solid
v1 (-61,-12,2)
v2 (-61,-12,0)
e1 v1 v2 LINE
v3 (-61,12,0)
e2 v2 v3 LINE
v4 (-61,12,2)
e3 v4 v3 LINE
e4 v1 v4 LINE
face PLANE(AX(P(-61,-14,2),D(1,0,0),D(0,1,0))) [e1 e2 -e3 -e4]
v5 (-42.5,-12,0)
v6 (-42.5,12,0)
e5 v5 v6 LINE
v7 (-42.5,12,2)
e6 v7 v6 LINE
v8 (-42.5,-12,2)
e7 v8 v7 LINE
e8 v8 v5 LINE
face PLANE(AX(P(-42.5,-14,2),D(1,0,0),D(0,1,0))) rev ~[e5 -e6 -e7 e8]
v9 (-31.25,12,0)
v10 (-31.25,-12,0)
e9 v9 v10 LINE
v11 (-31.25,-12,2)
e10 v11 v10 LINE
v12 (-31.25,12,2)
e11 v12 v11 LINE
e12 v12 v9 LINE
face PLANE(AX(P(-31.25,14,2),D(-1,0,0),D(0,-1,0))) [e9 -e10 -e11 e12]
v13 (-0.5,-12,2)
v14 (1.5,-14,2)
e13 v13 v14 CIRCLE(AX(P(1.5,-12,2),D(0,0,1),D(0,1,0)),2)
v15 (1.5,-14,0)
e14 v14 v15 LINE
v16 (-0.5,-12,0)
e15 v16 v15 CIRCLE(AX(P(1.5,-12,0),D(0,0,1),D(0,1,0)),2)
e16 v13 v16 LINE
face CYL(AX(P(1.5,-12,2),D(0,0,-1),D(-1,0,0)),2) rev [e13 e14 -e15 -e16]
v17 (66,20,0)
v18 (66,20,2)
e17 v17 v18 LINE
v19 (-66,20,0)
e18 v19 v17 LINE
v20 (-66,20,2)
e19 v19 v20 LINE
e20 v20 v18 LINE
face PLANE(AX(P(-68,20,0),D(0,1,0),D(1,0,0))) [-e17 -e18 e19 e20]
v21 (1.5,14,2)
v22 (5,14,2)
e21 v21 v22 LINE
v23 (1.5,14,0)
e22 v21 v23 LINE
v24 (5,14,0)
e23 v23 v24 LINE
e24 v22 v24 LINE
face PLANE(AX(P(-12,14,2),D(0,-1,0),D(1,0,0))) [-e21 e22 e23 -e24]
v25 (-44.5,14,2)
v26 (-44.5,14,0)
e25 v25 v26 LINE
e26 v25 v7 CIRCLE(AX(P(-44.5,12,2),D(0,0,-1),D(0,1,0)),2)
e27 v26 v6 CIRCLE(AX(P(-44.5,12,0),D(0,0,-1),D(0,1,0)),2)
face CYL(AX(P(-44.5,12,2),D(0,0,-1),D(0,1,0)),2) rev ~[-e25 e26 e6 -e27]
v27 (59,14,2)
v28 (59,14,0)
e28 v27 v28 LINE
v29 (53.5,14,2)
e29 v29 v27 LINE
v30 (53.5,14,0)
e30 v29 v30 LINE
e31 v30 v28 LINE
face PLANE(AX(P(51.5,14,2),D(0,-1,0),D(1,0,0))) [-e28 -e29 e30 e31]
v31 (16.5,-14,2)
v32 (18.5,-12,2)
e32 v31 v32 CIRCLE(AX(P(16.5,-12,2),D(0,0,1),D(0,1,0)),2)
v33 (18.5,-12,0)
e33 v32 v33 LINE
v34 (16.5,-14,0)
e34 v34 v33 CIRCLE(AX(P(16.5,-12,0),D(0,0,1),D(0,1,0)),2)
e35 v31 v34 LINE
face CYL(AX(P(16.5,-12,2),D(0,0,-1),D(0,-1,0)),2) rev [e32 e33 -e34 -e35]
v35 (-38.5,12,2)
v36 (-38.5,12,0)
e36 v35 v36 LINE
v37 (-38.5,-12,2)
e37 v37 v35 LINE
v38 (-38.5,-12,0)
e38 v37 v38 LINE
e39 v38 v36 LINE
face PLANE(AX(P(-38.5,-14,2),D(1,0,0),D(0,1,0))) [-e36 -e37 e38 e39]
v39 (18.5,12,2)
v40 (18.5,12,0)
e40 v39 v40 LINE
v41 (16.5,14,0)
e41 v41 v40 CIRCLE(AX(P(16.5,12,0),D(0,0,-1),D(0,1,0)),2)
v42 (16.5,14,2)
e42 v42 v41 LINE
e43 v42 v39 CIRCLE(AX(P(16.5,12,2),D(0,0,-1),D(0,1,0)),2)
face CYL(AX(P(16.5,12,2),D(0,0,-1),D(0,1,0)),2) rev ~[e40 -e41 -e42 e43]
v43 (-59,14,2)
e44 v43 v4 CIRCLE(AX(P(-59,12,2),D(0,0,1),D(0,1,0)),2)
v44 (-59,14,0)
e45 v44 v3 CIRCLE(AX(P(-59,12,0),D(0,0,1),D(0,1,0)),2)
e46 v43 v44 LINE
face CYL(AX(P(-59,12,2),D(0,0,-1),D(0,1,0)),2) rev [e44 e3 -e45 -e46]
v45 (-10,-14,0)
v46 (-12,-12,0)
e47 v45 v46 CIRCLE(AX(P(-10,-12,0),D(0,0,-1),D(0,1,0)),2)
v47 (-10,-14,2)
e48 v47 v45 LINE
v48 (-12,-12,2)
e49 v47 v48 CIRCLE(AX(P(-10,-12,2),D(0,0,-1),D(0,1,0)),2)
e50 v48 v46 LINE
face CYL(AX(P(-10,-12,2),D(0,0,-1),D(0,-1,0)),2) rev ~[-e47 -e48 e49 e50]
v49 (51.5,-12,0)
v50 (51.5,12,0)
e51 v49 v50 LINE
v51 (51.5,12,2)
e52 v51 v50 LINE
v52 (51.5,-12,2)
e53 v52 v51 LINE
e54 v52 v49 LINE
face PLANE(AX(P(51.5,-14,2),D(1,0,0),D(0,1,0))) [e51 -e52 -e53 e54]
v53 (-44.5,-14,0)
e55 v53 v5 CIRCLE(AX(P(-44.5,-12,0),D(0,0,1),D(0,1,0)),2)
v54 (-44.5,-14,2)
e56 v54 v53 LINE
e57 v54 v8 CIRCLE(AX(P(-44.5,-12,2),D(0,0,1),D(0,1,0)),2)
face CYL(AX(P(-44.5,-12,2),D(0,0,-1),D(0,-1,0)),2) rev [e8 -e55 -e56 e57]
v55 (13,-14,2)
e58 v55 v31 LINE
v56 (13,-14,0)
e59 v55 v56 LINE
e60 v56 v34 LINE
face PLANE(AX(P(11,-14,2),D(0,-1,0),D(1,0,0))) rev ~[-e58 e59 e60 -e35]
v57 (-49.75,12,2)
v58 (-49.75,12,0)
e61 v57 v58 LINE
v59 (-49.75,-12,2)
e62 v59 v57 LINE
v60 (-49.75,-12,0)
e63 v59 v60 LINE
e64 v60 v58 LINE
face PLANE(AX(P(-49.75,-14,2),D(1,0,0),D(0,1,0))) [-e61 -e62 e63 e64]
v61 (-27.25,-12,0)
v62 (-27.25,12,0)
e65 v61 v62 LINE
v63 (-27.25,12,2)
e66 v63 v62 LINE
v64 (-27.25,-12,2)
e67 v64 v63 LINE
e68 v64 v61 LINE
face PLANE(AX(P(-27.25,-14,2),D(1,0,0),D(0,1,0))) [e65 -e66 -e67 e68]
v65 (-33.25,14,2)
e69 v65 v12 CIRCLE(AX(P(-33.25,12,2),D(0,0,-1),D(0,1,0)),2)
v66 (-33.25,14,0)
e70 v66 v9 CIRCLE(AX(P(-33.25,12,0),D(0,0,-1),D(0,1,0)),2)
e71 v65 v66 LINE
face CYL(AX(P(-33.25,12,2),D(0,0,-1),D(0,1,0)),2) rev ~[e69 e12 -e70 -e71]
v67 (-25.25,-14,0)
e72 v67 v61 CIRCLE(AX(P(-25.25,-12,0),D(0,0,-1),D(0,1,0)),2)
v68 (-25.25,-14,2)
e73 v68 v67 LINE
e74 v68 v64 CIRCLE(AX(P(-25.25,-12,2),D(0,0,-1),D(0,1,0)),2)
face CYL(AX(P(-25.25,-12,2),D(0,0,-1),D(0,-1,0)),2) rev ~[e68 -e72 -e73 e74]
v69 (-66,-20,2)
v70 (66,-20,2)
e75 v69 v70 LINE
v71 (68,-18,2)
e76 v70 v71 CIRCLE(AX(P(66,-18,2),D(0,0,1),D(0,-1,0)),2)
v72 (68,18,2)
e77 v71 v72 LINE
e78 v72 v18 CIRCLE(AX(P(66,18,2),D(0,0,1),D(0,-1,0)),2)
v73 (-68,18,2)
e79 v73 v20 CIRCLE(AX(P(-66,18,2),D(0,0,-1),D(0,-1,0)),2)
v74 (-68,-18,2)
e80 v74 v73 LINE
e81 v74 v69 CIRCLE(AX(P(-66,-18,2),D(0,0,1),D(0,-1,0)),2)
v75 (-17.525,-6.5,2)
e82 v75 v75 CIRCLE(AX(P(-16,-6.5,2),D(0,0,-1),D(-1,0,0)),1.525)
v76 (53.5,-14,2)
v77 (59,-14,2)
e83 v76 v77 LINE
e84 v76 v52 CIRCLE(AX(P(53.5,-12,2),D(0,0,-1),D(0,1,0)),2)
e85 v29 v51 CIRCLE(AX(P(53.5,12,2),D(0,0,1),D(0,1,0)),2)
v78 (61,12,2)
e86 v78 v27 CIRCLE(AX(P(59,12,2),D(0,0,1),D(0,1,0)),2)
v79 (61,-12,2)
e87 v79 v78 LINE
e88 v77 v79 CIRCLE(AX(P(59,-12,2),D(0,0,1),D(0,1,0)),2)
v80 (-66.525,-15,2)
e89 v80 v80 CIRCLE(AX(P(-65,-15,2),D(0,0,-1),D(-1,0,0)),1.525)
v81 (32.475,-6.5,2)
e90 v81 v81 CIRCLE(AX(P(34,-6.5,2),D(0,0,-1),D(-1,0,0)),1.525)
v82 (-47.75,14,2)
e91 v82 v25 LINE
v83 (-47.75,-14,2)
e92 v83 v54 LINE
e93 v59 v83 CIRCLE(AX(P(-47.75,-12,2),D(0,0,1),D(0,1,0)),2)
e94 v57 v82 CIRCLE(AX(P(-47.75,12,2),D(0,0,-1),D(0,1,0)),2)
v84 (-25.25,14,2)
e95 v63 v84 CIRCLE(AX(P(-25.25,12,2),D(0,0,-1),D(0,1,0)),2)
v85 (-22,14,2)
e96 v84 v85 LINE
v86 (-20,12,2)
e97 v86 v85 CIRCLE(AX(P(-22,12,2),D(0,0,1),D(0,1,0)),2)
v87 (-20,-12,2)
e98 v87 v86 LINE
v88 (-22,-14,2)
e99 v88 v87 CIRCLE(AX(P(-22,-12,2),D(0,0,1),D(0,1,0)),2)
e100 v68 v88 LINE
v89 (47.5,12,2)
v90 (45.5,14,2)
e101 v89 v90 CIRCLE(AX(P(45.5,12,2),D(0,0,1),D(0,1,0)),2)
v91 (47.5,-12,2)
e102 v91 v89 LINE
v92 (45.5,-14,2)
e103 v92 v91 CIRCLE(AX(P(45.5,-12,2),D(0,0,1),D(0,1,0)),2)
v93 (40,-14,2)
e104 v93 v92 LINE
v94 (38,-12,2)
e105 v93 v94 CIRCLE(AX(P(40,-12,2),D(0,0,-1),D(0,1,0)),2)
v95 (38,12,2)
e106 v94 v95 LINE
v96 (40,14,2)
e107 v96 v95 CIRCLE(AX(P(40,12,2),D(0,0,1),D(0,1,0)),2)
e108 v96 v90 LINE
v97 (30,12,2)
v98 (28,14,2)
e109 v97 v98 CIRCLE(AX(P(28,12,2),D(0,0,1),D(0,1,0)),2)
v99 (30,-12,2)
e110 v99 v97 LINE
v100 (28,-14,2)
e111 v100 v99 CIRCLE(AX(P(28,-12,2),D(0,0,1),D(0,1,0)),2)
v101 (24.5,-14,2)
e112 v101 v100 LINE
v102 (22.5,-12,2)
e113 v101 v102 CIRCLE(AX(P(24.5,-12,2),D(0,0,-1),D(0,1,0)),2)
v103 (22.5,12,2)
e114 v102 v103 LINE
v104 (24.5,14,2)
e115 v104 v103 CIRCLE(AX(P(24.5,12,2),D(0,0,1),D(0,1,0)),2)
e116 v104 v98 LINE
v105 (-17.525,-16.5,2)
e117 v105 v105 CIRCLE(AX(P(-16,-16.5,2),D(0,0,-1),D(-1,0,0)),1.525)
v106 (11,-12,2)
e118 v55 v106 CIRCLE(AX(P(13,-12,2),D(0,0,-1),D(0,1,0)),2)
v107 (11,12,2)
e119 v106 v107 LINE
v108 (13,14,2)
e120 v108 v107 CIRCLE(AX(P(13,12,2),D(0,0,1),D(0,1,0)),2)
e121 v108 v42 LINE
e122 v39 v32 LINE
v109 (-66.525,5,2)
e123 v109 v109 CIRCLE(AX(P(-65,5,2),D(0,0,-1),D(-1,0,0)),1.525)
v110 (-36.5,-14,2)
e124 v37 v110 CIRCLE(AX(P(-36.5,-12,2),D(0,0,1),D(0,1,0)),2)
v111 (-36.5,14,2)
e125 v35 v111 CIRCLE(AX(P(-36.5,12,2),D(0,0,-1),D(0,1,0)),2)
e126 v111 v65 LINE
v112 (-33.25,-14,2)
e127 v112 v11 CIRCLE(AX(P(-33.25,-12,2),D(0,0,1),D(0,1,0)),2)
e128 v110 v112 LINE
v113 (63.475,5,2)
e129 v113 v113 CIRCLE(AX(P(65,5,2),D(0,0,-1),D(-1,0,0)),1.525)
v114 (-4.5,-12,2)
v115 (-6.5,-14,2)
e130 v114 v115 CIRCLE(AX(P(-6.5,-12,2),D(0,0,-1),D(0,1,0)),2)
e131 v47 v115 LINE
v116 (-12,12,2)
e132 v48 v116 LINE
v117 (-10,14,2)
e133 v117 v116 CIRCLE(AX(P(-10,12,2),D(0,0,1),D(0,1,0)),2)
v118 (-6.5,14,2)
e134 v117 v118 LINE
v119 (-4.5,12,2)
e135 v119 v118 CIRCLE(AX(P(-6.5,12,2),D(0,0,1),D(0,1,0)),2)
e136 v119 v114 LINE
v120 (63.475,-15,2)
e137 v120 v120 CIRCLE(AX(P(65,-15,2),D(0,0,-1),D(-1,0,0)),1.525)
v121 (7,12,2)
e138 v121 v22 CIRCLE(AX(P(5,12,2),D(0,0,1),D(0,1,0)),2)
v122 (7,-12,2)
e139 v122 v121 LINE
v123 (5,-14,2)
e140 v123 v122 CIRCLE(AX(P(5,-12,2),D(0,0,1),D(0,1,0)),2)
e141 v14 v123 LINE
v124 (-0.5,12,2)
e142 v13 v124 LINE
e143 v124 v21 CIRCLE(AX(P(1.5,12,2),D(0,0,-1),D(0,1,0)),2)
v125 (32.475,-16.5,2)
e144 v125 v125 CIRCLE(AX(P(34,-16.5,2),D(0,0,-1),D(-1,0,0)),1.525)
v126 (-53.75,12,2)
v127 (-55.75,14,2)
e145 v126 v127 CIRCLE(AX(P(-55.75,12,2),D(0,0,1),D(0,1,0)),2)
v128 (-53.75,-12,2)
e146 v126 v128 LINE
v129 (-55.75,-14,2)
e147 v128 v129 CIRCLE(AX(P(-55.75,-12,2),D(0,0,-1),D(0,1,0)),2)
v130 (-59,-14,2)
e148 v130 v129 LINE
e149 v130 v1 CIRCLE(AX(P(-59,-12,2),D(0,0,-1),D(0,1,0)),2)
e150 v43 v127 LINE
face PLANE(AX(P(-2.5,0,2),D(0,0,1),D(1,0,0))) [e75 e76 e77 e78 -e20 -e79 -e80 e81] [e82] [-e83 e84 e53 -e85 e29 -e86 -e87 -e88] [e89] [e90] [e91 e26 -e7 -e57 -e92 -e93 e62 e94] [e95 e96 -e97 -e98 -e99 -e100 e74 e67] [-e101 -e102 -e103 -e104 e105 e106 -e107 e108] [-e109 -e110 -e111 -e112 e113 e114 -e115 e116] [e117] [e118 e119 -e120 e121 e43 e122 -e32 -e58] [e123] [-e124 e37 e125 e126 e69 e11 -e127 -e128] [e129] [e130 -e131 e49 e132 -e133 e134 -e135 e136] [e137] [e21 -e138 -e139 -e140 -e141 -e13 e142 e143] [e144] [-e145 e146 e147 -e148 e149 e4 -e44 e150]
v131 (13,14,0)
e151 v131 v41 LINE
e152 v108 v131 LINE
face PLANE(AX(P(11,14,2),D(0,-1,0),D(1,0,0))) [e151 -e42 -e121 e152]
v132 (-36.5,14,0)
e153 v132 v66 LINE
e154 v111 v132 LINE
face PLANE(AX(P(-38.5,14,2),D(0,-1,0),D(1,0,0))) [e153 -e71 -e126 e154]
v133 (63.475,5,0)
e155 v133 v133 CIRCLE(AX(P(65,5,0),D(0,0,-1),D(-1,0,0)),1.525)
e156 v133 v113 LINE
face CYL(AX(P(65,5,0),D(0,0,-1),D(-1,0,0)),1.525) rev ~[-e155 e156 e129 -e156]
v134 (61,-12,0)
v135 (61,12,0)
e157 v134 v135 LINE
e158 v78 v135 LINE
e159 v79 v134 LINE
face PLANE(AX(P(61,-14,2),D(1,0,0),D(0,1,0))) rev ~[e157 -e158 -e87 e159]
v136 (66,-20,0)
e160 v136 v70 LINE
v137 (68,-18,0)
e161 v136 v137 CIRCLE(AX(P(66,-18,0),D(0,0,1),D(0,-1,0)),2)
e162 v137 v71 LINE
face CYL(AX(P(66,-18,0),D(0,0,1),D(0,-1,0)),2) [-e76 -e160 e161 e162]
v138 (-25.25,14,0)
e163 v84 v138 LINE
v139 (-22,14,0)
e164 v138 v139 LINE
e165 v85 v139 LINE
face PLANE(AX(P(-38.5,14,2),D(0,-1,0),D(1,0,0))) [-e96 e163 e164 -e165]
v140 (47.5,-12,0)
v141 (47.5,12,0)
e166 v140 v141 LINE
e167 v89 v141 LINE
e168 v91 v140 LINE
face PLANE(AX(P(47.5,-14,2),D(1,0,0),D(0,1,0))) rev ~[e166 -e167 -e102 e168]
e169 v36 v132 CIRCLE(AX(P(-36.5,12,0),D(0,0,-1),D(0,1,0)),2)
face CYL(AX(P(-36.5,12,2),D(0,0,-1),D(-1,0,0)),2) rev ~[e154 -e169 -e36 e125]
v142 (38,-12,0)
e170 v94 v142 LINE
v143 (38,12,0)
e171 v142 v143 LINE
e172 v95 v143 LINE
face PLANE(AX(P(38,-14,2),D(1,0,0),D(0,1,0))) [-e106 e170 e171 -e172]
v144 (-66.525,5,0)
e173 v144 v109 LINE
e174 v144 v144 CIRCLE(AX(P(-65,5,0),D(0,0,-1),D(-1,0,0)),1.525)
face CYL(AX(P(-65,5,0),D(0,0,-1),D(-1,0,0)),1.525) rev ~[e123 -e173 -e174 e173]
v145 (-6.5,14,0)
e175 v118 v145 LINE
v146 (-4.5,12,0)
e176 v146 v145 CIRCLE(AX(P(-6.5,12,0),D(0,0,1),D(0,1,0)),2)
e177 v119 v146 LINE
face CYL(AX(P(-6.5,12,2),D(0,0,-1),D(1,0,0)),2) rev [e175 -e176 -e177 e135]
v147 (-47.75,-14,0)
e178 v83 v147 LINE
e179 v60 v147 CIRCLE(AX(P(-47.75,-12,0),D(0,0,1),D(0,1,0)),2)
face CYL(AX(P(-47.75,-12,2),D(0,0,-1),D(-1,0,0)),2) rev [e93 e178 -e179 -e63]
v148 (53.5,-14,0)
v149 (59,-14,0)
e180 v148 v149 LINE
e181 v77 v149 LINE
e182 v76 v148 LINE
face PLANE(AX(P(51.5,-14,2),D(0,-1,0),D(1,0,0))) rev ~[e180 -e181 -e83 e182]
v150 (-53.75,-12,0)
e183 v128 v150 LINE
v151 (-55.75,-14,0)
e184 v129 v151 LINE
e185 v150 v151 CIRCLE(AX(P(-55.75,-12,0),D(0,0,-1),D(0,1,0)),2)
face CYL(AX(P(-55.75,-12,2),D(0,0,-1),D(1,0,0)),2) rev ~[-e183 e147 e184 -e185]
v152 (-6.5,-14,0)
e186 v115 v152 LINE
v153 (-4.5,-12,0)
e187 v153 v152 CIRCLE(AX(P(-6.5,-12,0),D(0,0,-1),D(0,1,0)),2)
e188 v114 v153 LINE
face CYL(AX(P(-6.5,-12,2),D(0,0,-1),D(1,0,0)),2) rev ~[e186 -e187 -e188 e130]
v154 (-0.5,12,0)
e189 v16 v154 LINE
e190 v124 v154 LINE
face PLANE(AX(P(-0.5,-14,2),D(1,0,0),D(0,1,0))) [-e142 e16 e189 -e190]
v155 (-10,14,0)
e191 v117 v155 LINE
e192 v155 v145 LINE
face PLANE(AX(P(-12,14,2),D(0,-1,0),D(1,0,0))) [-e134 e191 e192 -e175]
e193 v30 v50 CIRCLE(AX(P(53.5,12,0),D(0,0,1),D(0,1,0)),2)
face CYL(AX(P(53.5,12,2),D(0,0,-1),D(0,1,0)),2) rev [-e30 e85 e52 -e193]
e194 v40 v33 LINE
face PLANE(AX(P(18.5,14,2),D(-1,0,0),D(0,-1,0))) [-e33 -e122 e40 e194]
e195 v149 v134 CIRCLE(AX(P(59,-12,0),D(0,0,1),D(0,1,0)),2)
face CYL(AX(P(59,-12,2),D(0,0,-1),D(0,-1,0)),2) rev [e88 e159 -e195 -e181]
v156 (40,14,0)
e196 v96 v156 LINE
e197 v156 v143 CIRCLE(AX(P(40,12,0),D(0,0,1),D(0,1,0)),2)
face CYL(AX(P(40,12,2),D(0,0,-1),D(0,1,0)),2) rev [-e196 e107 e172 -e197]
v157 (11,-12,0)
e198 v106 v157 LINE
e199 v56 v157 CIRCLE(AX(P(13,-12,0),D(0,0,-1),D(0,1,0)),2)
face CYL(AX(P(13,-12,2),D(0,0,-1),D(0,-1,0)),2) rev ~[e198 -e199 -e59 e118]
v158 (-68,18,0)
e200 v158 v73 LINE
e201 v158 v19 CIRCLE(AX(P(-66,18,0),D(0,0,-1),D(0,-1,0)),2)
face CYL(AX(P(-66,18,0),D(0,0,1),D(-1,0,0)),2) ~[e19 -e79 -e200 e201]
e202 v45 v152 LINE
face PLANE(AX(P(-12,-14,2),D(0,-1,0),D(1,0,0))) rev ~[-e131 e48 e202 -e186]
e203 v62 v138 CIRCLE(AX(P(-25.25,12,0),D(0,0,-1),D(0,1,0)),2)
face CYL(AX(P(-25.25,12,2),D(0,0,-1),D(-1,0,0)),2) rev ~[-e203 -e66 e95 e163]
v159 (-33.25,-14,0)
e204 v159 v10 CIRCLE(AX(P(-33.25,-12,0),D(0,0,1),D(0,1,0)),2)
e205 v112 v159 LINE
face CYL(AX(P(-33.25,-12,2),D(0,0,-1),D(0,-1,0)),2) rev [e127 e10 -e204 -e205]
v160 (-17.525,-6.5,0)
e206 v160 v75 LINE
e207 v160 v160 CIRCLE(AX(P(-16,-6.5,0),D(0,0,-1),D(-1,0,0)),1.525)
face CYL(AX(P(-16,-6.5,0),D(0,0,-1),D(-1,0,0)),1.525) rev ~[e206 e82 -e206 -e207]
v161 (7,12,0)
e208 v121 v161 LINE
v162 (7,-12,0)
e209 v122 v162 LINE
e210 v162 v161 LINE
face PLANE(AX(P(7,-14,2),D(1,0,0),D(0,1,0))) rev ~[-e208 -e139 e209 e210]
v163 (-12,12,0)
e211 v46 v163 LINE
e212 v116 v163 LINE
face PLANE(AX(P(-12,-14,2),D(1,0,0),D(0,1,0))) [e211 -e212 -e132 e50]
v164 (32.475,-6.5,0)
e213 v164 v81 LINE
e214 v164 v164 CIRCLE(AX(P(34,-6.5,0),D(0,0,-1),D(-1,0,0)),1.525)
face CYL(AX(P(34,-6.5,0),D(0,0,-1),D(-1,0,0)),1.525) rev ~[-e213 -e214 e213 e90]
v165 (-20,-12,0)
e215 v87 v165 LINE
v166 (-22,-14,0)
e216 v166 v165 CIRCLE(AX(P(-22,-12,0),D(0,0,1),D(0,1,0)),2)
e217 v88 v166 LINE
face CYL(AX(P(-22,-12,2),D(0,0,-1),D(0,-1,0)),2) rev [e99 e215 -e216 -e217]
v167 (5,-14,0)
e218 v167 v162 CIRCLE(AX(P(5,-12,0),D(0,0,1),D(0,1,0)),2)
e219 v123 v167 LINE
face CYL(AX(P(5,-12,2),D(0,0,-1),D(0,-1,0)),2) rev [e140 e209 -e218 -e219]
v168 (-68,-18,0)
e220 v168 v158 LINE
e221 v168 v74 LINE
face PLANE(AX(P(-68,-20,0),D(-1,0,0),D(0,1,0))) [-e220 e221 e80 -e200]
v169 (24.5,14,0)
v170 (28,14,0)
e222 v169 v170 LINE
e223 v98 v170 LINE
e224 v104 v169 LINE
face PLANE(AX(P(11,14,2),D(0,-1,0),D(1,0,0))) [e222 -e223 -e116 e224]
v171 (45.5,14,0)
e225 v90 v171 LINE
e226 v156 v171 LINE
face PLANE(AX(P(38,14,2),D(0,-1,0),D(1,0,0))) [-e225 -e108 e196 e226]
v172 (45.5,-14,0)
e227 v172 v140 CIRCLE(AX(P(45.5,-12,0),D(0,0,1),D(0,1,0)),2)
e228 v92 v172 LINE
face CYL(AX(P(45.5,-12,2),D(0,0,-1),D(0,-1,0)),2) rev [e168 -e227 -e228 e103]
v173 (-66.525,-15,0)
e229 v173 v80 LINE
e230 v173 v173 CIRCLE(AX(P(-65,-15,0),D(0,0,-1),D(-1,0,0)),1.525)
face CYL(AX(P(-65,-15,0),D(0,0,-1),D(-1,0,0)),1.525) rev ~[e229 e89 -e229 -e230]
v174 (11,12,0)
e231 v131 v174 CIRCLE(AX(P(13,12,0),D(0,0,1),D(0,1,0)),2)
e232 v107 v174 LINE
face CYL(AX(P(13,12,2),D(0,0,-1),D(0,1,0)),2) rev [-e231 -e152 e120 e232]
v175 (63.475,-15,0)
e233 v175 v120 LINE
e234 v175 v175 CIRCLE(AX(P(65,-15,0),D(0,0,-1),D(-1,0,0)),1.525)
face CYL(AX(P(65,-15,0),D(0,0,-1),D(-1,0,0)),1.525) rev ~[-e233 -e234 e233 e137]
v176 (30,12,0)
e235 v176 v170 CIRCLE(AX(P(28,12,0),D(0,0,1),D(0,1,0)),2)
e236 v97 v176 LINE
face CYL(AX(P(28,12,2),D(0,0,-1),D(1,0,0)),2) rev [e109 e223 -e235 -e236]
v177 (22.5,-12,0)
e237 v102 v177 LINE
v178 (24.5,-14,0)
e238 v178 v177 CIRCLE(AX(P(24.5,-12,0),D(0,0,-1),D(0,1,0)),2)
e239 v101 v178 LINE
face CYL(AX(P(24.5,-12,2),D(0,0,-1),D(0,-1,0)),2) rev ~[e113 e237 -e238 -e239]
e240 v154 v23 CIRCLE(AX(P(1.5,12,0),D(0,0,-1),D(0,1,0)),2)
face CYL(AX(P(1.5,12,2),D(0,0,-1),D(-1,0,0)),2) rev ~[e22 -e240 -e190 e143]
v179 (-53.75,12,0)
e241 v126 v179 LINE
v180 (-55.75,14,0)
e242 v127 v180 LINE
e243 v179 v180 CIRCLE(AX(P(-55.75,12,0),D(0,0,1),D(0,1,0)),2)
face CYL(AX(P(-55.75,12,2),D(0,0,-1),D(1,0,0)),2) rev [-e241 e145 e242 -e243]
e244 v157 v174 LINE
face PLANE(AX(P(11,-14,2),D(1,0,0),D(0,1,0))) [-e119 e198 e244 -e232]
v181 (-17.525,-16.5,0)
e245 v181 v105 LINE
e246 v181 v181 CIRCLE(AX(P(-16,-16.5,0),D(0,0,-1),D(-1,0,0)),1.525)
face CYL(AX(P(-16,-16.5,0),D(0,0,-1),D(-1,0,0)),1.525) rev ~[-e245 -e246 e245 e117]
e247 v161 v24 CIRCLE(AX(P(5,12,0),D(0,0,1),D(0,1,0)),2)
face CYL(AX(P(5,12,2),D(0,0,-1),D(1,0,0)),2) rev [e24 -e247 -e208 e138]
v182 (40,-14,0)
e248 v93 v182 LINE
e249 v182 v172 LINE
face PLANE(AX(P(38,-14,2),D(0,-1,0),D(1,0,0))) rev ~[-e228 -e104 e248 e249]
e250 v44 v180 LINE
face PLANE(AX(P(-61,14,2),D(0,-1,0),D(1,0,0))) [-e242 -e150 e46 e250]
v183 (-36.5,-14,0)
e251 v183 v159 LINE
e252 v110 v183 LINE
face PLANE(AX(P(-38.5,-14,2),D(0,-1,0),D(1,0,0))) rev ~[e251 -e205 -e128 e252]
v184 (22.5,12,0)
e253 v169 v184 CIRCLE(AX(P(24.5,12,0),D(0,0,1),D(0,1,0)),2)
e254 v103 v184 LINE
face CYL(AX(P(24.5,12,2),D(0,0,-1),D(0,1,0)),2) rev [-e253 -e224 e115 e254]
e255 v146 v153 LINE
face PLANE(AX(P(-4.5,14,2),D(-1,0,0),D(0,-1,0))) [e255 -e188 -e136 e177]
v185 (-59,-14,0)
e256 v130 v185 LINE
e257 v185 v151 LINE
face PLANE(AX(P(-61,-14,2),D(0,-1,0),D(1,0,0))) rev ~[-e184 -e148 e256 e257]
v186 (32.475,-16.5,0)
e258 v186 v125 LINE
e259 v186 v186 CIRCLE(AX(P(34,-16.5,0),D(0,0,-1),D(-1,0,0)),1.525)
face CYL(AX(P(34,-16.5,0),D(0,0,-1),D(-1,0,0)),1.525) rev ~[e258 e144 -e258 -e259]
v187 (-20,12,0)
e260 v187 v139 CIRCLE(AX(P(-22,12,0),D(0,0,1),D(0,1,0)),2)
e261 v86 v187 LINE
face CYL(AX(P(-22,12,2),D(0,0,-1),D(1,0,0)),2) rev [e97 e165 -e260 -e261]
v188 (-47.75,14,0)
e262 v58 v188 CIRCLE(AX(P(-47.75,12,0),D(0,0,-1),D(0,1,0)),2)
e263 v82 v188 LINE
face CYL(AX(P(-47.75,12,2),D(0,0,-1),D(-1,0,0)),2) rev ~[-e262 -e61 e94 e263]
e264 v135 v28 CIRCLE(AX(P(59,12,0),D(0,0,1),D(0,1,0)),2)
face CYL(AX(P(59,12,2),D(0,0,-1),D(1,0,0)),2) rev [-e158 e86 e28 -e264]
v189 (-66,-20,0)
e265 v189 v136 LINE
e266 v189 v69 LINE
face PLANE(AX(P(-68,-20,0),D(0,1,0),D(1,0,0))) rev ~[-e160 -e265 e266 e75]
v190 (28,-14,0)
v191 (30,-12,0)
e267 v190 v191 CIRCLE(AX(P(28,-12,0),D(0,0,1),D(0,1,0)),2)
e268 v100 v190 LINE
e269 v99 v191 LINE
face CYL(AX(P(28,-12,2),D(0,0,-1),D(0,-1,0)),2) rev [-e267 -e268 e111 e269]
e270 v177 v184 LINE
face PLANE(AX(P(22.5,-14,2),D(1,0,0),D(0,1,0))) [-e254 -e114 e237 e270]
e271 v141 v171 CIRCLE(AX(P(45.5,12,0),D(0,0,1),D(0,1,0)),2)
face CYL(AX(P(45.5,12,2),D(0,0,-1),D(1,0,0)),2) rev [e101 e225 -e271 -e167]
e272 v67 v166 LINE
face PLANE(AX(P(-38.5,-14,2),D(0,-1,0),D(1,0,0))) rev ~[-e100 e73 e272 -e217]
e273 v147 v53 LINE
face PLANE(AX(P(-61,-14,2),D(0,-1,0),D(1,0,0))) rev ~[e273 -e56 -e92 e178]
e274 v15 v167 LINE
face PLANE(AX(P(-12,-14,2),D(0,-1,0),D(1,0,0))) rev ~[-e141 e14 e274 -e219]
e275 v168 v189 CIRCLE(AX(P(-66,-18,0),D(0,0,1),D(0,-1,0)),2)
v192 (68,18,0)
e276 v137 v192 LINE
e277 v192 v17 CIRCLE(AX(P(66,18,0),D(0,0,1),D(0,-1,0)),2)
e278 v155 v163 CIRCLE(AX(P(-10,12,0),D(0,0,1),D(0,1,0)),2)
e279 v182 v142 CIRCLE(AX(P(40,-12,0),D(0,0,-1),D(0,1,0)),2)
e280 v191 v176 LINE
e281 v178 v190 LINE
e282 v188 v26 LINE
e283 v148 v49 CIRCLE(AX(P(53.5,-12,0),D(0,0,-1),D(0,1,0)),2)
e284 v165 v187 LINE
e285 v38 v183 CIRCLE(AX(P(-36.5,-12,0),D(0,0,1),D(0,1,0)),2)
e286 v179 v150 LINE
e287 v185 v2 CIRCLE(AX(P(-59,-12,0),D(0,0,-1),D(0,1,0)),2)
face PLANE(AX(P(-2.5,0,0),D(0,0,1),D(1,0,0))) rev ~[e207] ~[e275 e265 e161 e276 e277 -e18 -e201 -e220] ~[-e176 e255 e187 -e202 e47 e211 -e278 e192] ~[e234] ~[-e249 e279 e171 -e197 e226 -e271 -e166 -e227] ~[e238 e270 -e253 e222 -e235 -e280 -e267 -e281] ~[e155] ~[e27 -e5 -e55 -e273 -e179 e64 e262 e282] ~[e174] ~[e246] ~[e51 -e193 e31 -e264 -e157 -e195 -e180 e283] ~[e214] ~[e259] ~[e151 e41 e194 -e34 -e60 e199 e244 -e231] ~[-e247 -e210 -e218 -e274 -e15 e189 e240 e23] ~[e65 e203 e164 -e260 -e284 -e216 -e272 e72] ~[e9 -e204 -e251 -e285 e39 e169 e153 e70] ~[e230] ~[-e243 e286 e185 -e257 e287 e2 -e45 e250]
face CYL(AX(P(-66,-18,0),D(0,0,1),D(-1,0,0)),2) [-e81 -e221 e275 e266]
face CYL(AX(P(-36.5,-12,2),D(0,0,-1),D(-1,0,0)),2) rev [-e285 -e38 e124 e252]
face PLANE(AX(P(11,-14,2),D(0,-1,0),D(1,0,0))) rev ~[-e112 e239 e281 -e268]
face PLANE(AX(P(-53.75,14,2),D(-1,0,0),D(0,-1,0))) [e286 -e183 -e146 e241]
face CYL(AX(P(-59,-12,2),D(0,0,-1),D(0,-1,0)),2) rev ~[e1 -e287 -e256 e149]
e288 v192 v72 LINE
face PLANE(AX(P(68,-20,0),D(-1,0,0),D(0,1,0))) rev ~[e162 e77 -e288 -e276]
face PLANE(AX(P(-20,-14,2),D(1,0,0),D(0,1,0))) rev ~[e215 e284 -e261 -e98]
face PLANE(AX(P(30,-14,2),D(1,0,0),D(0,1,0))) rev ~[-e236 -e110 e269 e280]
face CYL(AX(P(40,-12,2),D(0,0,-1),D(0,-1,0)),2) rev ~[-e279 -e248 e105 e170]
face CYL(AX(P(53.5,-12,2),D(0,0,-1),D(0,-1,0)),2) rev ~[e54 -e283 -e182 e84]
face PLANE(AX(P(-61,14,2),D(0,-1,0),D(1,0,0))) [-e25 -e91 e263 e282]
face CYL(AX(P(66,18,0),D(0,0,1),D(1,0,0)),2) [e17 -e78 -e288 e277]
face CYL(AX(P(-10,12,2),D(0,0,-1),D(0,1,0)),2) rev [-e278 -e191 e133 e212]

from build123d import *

# Parameters (mm, degrees)
SKETCH_1_W          = 136
SKETCH_1_H          = 40
EXTRUDE_1_DEPTH     = 2
SKETCH_2_R          = 1.525
CUT_EXTRUDE_1_DEPTH = 2
SKETCH_3_R          = 1.525
CUT_EXTRUDE_2_DEPTH = 22
SKETCH_4_W          = 18.5
SKETCH_4_H          = 28
CUT_EXTRUDE_3_DEPTH = 22
EXTRUDE_2_DEPTH     = 2
SKETCH_6_W          = 9.5
SKETCH_6_H          = 28
CUT_EXTRUDE_4_DEPTH = 2
FILLET_1_R          = 2
SKETCH_7_W          = 19
SKETCH_7_H          = 28
CUT_EXTRUDE_5_DEPTH = 2
EXTRUDE_3_DEPTH     = 2
FILLET_2_R          = 2
FILLET_3_R          = 2


with BuildPart() as part:
    # 草图1 → 凸台-拉伸1 (new body)
    with BuildSketch(Plane.XY):
        Rectangle(SKETCH_1_W, SKETCH_1_H)
    extrude(amount=EXTRUDE_1_DEPTH)

    # 草图2 → 切除-拉伸1 (cut)
    with BuildSketch(Plane(origin=(0, 0, 0), x_dir=(-1, 0, 0), z_dir=(0, 0, -1))):
        with Locations((-34, -6.5)):
            Circle(SKETCH_2_R)
        with Locations((-34, -16.5)):
            Circle(SKETCH_2_R)
        with Locations((16, -6.5)):
            Circle(SKETCH_2_R)
        with Locations((16, -16.5)):
            Circle(SKETCH_2_R)
    extrude(amount=-CUT_EXTRUDE_1_DEPTH, mode=Mode.SUBTRACT)

    # 草图3 → 切除-拉伸2 (cut)
    with BuildSketch(Plane(origin=(0, 0, 0), x_dir=(-1, 0, 0), z_dir=(0, 0, -1))):
        with Locations((65, -15)):
            Circle(SKETCH_3_R)
        with Locations((65, 5)):
            Circle(SKETCH_3_R)
        with Locations((-65, 5)):
            Circle(SKETCH_3_R)
        with Locations((-65, -15)):
            Circle(SKETCH_3_R)
    extrude(amount=-CUT_EXTRUDE_2_DEPTH, mode=Mode.SUBTRACT)

    # 草图4 → 切除-拉伸3 (cut)
    with BuildSketch(Plane.XY.offset(2)):
        with Locations((-51.75, 0)):
            Rectangle(SKETCH_4_W, SKETCH_4_H)
        with Locations((-29.25, 0)):
            Rectangle(SKETCH_4_W, SKETCH_4_H)
    extrude(amount=-CUT_EXTRUDE_3_DEPTH, mode=Mode.SUBTRACT)

    # 草图5 → 凸台-拉伸2 (add)
    with BuildSketch(Plane.XY.offset(2)):
        with BuildLine():
            Line((-53.75, 14), (-53.75, -14))
            ThreePointArc((-53.75, -14), (-51.75, -16), (-49.75, -14))
            Line((-49.75, -14), (-49.75, 14))
            ThreePointArc((-49.75, 14), (-51.75, 16), (-53.75, 14))
        make_face()
        with BuildLine():
            Line((-31.25, 14), (-31.25, -14))
            ThreePointArc((-31.25, -14), (-29.25, -16), (-27.25, -14))
            Line((-27.25, -14), (-27.25, 14))
            ThreePointArc((-27.25, 14), (-29.25, 16), (-31.25, 14))
        make_face()
    extrude(amount=-EXTRUDE_2_DEPTH)

    # 草图6 → 切除-拉伸4 (cut)
    with BuildSketch(Plane.XY.offset(2)):
        with Locations((42.75, 0)):
            Rectangle(SKETCH_6_W, SKETCH_6_H)
        with Locations((56.25, 0)):
            Rectangle(SKETCH_6_W, SKETCH_6_H)
    extrude(amount=-CUT_EXTRUDE_4_DEPTH, mode=Mode.SUBTRACT)

    # 圆角1
    fillet_1_edges = [part.edges().sort_by_distance(p)[0] for p in [
        (-53.75, -14, 1),
        (-49.75, -14, 1),
        (-49.75, 14, 1),
        (-53.75, 14, 1),
        (-31.25, -14, 1),
        (-27.25, -14, 1),
        (-27.25, 14, 1),
        (-31.25, 14, 1),
        (47.5, 14, 1),
        (47.5, -14, 1),
        (38, -14, 1),
        (38, 14, 1),
        (51.5, -14, 1),
        (61, -14, 1),
        (61, 14, 1),
        (51.5, 14, 1),
        (-42.5, 14, 1),
        (-42.5, -14, 1),
        (-61, -14, 1),
        (-61, 14, 1),
        (-38.5, 14, 1),
        (-20, 14, 1),
        (-20, -14, 1),
        (-38.5, -14, 1),
    ]]
    fillet(fillet_1_edges, radius=FILLET_1_R)

    # 草图7 → 切除-拉伸5 (cut)
    with BuildSketch(Plane.XY.offset(2)):
        with Locations((-2.5, 0)):
            Rectangle(SKETCH_7_W, SKETCH_7_H)
        with Locations((20.5, 0)):
            Rectangle(SKETCH_7_W, SKETCH_7_H)
    extrude(amount=-CUT_EXTRUDE_5_DEPTH, mode=Mode.SUBTRACT)

    # 草图8 → 凸台-拉伸3 (add)
    with BuildSketch(Plane.XY.offset(2)):
        with BuildLine():
            Line((-4.5, 14), (-4.5, -14))
            ThreePointArc((-4.5, -14), (-2.5, -16), (-0.5, -14))
            Line((-0.5, -14), (-0.5, 14))
            ThreePointArc((-0.5, 14), (-2.5, 16), (-4.5, 14))
        make_face()
        with BuildLine():
            Line((18.5, 14), (18.5, -14))
            ThreePointArc((18.5, -14), (20.5, -16), (22.5, -14))
            Line((22.5, -14), (22.5, 14))
            ThreePointArc((22.5, 14), (20.5, 16), (18.5, 14))
        make_face()
    extrude(amount=-EXTRUDE_3_DEPTH)

    # 圆角2
    fillet_2_edges = [part.edges().sort_by_distance(p)[0] for p in [
        (7, 14, 1),
        (7, -14, 1),
        (-12, -14, 1),
        (-12, 14, 1),
        (11, -14, 1),
        (30, -14, 1),
        (30, 14, 1),
        (11, 14, 1),
        (-4.5, -14, 1),
        (-0.5, -14, 1),
        (-0.5, 14, 1),
        (-4.5, 14, 1),
        (18.5, -14, 1),
        (22.5, -14, 1),
        (22.5, 14, 1),
        (18.5, 14, 1),
    ]]
    fillet(fillet_2_edges, radius=FILLET_2_R)

    # 圆角3
    fillet_3_edges = [part.edges().sort_by_distance(p)[0] for p in [
        (68, -20, 1),
        (-68, -20, 1),
        (-68, 20, 1),
        (68, 20, 1),
    ]]
    fillet(fillet_3_edges, radius=FILLET_3_R)


solid = part.part
